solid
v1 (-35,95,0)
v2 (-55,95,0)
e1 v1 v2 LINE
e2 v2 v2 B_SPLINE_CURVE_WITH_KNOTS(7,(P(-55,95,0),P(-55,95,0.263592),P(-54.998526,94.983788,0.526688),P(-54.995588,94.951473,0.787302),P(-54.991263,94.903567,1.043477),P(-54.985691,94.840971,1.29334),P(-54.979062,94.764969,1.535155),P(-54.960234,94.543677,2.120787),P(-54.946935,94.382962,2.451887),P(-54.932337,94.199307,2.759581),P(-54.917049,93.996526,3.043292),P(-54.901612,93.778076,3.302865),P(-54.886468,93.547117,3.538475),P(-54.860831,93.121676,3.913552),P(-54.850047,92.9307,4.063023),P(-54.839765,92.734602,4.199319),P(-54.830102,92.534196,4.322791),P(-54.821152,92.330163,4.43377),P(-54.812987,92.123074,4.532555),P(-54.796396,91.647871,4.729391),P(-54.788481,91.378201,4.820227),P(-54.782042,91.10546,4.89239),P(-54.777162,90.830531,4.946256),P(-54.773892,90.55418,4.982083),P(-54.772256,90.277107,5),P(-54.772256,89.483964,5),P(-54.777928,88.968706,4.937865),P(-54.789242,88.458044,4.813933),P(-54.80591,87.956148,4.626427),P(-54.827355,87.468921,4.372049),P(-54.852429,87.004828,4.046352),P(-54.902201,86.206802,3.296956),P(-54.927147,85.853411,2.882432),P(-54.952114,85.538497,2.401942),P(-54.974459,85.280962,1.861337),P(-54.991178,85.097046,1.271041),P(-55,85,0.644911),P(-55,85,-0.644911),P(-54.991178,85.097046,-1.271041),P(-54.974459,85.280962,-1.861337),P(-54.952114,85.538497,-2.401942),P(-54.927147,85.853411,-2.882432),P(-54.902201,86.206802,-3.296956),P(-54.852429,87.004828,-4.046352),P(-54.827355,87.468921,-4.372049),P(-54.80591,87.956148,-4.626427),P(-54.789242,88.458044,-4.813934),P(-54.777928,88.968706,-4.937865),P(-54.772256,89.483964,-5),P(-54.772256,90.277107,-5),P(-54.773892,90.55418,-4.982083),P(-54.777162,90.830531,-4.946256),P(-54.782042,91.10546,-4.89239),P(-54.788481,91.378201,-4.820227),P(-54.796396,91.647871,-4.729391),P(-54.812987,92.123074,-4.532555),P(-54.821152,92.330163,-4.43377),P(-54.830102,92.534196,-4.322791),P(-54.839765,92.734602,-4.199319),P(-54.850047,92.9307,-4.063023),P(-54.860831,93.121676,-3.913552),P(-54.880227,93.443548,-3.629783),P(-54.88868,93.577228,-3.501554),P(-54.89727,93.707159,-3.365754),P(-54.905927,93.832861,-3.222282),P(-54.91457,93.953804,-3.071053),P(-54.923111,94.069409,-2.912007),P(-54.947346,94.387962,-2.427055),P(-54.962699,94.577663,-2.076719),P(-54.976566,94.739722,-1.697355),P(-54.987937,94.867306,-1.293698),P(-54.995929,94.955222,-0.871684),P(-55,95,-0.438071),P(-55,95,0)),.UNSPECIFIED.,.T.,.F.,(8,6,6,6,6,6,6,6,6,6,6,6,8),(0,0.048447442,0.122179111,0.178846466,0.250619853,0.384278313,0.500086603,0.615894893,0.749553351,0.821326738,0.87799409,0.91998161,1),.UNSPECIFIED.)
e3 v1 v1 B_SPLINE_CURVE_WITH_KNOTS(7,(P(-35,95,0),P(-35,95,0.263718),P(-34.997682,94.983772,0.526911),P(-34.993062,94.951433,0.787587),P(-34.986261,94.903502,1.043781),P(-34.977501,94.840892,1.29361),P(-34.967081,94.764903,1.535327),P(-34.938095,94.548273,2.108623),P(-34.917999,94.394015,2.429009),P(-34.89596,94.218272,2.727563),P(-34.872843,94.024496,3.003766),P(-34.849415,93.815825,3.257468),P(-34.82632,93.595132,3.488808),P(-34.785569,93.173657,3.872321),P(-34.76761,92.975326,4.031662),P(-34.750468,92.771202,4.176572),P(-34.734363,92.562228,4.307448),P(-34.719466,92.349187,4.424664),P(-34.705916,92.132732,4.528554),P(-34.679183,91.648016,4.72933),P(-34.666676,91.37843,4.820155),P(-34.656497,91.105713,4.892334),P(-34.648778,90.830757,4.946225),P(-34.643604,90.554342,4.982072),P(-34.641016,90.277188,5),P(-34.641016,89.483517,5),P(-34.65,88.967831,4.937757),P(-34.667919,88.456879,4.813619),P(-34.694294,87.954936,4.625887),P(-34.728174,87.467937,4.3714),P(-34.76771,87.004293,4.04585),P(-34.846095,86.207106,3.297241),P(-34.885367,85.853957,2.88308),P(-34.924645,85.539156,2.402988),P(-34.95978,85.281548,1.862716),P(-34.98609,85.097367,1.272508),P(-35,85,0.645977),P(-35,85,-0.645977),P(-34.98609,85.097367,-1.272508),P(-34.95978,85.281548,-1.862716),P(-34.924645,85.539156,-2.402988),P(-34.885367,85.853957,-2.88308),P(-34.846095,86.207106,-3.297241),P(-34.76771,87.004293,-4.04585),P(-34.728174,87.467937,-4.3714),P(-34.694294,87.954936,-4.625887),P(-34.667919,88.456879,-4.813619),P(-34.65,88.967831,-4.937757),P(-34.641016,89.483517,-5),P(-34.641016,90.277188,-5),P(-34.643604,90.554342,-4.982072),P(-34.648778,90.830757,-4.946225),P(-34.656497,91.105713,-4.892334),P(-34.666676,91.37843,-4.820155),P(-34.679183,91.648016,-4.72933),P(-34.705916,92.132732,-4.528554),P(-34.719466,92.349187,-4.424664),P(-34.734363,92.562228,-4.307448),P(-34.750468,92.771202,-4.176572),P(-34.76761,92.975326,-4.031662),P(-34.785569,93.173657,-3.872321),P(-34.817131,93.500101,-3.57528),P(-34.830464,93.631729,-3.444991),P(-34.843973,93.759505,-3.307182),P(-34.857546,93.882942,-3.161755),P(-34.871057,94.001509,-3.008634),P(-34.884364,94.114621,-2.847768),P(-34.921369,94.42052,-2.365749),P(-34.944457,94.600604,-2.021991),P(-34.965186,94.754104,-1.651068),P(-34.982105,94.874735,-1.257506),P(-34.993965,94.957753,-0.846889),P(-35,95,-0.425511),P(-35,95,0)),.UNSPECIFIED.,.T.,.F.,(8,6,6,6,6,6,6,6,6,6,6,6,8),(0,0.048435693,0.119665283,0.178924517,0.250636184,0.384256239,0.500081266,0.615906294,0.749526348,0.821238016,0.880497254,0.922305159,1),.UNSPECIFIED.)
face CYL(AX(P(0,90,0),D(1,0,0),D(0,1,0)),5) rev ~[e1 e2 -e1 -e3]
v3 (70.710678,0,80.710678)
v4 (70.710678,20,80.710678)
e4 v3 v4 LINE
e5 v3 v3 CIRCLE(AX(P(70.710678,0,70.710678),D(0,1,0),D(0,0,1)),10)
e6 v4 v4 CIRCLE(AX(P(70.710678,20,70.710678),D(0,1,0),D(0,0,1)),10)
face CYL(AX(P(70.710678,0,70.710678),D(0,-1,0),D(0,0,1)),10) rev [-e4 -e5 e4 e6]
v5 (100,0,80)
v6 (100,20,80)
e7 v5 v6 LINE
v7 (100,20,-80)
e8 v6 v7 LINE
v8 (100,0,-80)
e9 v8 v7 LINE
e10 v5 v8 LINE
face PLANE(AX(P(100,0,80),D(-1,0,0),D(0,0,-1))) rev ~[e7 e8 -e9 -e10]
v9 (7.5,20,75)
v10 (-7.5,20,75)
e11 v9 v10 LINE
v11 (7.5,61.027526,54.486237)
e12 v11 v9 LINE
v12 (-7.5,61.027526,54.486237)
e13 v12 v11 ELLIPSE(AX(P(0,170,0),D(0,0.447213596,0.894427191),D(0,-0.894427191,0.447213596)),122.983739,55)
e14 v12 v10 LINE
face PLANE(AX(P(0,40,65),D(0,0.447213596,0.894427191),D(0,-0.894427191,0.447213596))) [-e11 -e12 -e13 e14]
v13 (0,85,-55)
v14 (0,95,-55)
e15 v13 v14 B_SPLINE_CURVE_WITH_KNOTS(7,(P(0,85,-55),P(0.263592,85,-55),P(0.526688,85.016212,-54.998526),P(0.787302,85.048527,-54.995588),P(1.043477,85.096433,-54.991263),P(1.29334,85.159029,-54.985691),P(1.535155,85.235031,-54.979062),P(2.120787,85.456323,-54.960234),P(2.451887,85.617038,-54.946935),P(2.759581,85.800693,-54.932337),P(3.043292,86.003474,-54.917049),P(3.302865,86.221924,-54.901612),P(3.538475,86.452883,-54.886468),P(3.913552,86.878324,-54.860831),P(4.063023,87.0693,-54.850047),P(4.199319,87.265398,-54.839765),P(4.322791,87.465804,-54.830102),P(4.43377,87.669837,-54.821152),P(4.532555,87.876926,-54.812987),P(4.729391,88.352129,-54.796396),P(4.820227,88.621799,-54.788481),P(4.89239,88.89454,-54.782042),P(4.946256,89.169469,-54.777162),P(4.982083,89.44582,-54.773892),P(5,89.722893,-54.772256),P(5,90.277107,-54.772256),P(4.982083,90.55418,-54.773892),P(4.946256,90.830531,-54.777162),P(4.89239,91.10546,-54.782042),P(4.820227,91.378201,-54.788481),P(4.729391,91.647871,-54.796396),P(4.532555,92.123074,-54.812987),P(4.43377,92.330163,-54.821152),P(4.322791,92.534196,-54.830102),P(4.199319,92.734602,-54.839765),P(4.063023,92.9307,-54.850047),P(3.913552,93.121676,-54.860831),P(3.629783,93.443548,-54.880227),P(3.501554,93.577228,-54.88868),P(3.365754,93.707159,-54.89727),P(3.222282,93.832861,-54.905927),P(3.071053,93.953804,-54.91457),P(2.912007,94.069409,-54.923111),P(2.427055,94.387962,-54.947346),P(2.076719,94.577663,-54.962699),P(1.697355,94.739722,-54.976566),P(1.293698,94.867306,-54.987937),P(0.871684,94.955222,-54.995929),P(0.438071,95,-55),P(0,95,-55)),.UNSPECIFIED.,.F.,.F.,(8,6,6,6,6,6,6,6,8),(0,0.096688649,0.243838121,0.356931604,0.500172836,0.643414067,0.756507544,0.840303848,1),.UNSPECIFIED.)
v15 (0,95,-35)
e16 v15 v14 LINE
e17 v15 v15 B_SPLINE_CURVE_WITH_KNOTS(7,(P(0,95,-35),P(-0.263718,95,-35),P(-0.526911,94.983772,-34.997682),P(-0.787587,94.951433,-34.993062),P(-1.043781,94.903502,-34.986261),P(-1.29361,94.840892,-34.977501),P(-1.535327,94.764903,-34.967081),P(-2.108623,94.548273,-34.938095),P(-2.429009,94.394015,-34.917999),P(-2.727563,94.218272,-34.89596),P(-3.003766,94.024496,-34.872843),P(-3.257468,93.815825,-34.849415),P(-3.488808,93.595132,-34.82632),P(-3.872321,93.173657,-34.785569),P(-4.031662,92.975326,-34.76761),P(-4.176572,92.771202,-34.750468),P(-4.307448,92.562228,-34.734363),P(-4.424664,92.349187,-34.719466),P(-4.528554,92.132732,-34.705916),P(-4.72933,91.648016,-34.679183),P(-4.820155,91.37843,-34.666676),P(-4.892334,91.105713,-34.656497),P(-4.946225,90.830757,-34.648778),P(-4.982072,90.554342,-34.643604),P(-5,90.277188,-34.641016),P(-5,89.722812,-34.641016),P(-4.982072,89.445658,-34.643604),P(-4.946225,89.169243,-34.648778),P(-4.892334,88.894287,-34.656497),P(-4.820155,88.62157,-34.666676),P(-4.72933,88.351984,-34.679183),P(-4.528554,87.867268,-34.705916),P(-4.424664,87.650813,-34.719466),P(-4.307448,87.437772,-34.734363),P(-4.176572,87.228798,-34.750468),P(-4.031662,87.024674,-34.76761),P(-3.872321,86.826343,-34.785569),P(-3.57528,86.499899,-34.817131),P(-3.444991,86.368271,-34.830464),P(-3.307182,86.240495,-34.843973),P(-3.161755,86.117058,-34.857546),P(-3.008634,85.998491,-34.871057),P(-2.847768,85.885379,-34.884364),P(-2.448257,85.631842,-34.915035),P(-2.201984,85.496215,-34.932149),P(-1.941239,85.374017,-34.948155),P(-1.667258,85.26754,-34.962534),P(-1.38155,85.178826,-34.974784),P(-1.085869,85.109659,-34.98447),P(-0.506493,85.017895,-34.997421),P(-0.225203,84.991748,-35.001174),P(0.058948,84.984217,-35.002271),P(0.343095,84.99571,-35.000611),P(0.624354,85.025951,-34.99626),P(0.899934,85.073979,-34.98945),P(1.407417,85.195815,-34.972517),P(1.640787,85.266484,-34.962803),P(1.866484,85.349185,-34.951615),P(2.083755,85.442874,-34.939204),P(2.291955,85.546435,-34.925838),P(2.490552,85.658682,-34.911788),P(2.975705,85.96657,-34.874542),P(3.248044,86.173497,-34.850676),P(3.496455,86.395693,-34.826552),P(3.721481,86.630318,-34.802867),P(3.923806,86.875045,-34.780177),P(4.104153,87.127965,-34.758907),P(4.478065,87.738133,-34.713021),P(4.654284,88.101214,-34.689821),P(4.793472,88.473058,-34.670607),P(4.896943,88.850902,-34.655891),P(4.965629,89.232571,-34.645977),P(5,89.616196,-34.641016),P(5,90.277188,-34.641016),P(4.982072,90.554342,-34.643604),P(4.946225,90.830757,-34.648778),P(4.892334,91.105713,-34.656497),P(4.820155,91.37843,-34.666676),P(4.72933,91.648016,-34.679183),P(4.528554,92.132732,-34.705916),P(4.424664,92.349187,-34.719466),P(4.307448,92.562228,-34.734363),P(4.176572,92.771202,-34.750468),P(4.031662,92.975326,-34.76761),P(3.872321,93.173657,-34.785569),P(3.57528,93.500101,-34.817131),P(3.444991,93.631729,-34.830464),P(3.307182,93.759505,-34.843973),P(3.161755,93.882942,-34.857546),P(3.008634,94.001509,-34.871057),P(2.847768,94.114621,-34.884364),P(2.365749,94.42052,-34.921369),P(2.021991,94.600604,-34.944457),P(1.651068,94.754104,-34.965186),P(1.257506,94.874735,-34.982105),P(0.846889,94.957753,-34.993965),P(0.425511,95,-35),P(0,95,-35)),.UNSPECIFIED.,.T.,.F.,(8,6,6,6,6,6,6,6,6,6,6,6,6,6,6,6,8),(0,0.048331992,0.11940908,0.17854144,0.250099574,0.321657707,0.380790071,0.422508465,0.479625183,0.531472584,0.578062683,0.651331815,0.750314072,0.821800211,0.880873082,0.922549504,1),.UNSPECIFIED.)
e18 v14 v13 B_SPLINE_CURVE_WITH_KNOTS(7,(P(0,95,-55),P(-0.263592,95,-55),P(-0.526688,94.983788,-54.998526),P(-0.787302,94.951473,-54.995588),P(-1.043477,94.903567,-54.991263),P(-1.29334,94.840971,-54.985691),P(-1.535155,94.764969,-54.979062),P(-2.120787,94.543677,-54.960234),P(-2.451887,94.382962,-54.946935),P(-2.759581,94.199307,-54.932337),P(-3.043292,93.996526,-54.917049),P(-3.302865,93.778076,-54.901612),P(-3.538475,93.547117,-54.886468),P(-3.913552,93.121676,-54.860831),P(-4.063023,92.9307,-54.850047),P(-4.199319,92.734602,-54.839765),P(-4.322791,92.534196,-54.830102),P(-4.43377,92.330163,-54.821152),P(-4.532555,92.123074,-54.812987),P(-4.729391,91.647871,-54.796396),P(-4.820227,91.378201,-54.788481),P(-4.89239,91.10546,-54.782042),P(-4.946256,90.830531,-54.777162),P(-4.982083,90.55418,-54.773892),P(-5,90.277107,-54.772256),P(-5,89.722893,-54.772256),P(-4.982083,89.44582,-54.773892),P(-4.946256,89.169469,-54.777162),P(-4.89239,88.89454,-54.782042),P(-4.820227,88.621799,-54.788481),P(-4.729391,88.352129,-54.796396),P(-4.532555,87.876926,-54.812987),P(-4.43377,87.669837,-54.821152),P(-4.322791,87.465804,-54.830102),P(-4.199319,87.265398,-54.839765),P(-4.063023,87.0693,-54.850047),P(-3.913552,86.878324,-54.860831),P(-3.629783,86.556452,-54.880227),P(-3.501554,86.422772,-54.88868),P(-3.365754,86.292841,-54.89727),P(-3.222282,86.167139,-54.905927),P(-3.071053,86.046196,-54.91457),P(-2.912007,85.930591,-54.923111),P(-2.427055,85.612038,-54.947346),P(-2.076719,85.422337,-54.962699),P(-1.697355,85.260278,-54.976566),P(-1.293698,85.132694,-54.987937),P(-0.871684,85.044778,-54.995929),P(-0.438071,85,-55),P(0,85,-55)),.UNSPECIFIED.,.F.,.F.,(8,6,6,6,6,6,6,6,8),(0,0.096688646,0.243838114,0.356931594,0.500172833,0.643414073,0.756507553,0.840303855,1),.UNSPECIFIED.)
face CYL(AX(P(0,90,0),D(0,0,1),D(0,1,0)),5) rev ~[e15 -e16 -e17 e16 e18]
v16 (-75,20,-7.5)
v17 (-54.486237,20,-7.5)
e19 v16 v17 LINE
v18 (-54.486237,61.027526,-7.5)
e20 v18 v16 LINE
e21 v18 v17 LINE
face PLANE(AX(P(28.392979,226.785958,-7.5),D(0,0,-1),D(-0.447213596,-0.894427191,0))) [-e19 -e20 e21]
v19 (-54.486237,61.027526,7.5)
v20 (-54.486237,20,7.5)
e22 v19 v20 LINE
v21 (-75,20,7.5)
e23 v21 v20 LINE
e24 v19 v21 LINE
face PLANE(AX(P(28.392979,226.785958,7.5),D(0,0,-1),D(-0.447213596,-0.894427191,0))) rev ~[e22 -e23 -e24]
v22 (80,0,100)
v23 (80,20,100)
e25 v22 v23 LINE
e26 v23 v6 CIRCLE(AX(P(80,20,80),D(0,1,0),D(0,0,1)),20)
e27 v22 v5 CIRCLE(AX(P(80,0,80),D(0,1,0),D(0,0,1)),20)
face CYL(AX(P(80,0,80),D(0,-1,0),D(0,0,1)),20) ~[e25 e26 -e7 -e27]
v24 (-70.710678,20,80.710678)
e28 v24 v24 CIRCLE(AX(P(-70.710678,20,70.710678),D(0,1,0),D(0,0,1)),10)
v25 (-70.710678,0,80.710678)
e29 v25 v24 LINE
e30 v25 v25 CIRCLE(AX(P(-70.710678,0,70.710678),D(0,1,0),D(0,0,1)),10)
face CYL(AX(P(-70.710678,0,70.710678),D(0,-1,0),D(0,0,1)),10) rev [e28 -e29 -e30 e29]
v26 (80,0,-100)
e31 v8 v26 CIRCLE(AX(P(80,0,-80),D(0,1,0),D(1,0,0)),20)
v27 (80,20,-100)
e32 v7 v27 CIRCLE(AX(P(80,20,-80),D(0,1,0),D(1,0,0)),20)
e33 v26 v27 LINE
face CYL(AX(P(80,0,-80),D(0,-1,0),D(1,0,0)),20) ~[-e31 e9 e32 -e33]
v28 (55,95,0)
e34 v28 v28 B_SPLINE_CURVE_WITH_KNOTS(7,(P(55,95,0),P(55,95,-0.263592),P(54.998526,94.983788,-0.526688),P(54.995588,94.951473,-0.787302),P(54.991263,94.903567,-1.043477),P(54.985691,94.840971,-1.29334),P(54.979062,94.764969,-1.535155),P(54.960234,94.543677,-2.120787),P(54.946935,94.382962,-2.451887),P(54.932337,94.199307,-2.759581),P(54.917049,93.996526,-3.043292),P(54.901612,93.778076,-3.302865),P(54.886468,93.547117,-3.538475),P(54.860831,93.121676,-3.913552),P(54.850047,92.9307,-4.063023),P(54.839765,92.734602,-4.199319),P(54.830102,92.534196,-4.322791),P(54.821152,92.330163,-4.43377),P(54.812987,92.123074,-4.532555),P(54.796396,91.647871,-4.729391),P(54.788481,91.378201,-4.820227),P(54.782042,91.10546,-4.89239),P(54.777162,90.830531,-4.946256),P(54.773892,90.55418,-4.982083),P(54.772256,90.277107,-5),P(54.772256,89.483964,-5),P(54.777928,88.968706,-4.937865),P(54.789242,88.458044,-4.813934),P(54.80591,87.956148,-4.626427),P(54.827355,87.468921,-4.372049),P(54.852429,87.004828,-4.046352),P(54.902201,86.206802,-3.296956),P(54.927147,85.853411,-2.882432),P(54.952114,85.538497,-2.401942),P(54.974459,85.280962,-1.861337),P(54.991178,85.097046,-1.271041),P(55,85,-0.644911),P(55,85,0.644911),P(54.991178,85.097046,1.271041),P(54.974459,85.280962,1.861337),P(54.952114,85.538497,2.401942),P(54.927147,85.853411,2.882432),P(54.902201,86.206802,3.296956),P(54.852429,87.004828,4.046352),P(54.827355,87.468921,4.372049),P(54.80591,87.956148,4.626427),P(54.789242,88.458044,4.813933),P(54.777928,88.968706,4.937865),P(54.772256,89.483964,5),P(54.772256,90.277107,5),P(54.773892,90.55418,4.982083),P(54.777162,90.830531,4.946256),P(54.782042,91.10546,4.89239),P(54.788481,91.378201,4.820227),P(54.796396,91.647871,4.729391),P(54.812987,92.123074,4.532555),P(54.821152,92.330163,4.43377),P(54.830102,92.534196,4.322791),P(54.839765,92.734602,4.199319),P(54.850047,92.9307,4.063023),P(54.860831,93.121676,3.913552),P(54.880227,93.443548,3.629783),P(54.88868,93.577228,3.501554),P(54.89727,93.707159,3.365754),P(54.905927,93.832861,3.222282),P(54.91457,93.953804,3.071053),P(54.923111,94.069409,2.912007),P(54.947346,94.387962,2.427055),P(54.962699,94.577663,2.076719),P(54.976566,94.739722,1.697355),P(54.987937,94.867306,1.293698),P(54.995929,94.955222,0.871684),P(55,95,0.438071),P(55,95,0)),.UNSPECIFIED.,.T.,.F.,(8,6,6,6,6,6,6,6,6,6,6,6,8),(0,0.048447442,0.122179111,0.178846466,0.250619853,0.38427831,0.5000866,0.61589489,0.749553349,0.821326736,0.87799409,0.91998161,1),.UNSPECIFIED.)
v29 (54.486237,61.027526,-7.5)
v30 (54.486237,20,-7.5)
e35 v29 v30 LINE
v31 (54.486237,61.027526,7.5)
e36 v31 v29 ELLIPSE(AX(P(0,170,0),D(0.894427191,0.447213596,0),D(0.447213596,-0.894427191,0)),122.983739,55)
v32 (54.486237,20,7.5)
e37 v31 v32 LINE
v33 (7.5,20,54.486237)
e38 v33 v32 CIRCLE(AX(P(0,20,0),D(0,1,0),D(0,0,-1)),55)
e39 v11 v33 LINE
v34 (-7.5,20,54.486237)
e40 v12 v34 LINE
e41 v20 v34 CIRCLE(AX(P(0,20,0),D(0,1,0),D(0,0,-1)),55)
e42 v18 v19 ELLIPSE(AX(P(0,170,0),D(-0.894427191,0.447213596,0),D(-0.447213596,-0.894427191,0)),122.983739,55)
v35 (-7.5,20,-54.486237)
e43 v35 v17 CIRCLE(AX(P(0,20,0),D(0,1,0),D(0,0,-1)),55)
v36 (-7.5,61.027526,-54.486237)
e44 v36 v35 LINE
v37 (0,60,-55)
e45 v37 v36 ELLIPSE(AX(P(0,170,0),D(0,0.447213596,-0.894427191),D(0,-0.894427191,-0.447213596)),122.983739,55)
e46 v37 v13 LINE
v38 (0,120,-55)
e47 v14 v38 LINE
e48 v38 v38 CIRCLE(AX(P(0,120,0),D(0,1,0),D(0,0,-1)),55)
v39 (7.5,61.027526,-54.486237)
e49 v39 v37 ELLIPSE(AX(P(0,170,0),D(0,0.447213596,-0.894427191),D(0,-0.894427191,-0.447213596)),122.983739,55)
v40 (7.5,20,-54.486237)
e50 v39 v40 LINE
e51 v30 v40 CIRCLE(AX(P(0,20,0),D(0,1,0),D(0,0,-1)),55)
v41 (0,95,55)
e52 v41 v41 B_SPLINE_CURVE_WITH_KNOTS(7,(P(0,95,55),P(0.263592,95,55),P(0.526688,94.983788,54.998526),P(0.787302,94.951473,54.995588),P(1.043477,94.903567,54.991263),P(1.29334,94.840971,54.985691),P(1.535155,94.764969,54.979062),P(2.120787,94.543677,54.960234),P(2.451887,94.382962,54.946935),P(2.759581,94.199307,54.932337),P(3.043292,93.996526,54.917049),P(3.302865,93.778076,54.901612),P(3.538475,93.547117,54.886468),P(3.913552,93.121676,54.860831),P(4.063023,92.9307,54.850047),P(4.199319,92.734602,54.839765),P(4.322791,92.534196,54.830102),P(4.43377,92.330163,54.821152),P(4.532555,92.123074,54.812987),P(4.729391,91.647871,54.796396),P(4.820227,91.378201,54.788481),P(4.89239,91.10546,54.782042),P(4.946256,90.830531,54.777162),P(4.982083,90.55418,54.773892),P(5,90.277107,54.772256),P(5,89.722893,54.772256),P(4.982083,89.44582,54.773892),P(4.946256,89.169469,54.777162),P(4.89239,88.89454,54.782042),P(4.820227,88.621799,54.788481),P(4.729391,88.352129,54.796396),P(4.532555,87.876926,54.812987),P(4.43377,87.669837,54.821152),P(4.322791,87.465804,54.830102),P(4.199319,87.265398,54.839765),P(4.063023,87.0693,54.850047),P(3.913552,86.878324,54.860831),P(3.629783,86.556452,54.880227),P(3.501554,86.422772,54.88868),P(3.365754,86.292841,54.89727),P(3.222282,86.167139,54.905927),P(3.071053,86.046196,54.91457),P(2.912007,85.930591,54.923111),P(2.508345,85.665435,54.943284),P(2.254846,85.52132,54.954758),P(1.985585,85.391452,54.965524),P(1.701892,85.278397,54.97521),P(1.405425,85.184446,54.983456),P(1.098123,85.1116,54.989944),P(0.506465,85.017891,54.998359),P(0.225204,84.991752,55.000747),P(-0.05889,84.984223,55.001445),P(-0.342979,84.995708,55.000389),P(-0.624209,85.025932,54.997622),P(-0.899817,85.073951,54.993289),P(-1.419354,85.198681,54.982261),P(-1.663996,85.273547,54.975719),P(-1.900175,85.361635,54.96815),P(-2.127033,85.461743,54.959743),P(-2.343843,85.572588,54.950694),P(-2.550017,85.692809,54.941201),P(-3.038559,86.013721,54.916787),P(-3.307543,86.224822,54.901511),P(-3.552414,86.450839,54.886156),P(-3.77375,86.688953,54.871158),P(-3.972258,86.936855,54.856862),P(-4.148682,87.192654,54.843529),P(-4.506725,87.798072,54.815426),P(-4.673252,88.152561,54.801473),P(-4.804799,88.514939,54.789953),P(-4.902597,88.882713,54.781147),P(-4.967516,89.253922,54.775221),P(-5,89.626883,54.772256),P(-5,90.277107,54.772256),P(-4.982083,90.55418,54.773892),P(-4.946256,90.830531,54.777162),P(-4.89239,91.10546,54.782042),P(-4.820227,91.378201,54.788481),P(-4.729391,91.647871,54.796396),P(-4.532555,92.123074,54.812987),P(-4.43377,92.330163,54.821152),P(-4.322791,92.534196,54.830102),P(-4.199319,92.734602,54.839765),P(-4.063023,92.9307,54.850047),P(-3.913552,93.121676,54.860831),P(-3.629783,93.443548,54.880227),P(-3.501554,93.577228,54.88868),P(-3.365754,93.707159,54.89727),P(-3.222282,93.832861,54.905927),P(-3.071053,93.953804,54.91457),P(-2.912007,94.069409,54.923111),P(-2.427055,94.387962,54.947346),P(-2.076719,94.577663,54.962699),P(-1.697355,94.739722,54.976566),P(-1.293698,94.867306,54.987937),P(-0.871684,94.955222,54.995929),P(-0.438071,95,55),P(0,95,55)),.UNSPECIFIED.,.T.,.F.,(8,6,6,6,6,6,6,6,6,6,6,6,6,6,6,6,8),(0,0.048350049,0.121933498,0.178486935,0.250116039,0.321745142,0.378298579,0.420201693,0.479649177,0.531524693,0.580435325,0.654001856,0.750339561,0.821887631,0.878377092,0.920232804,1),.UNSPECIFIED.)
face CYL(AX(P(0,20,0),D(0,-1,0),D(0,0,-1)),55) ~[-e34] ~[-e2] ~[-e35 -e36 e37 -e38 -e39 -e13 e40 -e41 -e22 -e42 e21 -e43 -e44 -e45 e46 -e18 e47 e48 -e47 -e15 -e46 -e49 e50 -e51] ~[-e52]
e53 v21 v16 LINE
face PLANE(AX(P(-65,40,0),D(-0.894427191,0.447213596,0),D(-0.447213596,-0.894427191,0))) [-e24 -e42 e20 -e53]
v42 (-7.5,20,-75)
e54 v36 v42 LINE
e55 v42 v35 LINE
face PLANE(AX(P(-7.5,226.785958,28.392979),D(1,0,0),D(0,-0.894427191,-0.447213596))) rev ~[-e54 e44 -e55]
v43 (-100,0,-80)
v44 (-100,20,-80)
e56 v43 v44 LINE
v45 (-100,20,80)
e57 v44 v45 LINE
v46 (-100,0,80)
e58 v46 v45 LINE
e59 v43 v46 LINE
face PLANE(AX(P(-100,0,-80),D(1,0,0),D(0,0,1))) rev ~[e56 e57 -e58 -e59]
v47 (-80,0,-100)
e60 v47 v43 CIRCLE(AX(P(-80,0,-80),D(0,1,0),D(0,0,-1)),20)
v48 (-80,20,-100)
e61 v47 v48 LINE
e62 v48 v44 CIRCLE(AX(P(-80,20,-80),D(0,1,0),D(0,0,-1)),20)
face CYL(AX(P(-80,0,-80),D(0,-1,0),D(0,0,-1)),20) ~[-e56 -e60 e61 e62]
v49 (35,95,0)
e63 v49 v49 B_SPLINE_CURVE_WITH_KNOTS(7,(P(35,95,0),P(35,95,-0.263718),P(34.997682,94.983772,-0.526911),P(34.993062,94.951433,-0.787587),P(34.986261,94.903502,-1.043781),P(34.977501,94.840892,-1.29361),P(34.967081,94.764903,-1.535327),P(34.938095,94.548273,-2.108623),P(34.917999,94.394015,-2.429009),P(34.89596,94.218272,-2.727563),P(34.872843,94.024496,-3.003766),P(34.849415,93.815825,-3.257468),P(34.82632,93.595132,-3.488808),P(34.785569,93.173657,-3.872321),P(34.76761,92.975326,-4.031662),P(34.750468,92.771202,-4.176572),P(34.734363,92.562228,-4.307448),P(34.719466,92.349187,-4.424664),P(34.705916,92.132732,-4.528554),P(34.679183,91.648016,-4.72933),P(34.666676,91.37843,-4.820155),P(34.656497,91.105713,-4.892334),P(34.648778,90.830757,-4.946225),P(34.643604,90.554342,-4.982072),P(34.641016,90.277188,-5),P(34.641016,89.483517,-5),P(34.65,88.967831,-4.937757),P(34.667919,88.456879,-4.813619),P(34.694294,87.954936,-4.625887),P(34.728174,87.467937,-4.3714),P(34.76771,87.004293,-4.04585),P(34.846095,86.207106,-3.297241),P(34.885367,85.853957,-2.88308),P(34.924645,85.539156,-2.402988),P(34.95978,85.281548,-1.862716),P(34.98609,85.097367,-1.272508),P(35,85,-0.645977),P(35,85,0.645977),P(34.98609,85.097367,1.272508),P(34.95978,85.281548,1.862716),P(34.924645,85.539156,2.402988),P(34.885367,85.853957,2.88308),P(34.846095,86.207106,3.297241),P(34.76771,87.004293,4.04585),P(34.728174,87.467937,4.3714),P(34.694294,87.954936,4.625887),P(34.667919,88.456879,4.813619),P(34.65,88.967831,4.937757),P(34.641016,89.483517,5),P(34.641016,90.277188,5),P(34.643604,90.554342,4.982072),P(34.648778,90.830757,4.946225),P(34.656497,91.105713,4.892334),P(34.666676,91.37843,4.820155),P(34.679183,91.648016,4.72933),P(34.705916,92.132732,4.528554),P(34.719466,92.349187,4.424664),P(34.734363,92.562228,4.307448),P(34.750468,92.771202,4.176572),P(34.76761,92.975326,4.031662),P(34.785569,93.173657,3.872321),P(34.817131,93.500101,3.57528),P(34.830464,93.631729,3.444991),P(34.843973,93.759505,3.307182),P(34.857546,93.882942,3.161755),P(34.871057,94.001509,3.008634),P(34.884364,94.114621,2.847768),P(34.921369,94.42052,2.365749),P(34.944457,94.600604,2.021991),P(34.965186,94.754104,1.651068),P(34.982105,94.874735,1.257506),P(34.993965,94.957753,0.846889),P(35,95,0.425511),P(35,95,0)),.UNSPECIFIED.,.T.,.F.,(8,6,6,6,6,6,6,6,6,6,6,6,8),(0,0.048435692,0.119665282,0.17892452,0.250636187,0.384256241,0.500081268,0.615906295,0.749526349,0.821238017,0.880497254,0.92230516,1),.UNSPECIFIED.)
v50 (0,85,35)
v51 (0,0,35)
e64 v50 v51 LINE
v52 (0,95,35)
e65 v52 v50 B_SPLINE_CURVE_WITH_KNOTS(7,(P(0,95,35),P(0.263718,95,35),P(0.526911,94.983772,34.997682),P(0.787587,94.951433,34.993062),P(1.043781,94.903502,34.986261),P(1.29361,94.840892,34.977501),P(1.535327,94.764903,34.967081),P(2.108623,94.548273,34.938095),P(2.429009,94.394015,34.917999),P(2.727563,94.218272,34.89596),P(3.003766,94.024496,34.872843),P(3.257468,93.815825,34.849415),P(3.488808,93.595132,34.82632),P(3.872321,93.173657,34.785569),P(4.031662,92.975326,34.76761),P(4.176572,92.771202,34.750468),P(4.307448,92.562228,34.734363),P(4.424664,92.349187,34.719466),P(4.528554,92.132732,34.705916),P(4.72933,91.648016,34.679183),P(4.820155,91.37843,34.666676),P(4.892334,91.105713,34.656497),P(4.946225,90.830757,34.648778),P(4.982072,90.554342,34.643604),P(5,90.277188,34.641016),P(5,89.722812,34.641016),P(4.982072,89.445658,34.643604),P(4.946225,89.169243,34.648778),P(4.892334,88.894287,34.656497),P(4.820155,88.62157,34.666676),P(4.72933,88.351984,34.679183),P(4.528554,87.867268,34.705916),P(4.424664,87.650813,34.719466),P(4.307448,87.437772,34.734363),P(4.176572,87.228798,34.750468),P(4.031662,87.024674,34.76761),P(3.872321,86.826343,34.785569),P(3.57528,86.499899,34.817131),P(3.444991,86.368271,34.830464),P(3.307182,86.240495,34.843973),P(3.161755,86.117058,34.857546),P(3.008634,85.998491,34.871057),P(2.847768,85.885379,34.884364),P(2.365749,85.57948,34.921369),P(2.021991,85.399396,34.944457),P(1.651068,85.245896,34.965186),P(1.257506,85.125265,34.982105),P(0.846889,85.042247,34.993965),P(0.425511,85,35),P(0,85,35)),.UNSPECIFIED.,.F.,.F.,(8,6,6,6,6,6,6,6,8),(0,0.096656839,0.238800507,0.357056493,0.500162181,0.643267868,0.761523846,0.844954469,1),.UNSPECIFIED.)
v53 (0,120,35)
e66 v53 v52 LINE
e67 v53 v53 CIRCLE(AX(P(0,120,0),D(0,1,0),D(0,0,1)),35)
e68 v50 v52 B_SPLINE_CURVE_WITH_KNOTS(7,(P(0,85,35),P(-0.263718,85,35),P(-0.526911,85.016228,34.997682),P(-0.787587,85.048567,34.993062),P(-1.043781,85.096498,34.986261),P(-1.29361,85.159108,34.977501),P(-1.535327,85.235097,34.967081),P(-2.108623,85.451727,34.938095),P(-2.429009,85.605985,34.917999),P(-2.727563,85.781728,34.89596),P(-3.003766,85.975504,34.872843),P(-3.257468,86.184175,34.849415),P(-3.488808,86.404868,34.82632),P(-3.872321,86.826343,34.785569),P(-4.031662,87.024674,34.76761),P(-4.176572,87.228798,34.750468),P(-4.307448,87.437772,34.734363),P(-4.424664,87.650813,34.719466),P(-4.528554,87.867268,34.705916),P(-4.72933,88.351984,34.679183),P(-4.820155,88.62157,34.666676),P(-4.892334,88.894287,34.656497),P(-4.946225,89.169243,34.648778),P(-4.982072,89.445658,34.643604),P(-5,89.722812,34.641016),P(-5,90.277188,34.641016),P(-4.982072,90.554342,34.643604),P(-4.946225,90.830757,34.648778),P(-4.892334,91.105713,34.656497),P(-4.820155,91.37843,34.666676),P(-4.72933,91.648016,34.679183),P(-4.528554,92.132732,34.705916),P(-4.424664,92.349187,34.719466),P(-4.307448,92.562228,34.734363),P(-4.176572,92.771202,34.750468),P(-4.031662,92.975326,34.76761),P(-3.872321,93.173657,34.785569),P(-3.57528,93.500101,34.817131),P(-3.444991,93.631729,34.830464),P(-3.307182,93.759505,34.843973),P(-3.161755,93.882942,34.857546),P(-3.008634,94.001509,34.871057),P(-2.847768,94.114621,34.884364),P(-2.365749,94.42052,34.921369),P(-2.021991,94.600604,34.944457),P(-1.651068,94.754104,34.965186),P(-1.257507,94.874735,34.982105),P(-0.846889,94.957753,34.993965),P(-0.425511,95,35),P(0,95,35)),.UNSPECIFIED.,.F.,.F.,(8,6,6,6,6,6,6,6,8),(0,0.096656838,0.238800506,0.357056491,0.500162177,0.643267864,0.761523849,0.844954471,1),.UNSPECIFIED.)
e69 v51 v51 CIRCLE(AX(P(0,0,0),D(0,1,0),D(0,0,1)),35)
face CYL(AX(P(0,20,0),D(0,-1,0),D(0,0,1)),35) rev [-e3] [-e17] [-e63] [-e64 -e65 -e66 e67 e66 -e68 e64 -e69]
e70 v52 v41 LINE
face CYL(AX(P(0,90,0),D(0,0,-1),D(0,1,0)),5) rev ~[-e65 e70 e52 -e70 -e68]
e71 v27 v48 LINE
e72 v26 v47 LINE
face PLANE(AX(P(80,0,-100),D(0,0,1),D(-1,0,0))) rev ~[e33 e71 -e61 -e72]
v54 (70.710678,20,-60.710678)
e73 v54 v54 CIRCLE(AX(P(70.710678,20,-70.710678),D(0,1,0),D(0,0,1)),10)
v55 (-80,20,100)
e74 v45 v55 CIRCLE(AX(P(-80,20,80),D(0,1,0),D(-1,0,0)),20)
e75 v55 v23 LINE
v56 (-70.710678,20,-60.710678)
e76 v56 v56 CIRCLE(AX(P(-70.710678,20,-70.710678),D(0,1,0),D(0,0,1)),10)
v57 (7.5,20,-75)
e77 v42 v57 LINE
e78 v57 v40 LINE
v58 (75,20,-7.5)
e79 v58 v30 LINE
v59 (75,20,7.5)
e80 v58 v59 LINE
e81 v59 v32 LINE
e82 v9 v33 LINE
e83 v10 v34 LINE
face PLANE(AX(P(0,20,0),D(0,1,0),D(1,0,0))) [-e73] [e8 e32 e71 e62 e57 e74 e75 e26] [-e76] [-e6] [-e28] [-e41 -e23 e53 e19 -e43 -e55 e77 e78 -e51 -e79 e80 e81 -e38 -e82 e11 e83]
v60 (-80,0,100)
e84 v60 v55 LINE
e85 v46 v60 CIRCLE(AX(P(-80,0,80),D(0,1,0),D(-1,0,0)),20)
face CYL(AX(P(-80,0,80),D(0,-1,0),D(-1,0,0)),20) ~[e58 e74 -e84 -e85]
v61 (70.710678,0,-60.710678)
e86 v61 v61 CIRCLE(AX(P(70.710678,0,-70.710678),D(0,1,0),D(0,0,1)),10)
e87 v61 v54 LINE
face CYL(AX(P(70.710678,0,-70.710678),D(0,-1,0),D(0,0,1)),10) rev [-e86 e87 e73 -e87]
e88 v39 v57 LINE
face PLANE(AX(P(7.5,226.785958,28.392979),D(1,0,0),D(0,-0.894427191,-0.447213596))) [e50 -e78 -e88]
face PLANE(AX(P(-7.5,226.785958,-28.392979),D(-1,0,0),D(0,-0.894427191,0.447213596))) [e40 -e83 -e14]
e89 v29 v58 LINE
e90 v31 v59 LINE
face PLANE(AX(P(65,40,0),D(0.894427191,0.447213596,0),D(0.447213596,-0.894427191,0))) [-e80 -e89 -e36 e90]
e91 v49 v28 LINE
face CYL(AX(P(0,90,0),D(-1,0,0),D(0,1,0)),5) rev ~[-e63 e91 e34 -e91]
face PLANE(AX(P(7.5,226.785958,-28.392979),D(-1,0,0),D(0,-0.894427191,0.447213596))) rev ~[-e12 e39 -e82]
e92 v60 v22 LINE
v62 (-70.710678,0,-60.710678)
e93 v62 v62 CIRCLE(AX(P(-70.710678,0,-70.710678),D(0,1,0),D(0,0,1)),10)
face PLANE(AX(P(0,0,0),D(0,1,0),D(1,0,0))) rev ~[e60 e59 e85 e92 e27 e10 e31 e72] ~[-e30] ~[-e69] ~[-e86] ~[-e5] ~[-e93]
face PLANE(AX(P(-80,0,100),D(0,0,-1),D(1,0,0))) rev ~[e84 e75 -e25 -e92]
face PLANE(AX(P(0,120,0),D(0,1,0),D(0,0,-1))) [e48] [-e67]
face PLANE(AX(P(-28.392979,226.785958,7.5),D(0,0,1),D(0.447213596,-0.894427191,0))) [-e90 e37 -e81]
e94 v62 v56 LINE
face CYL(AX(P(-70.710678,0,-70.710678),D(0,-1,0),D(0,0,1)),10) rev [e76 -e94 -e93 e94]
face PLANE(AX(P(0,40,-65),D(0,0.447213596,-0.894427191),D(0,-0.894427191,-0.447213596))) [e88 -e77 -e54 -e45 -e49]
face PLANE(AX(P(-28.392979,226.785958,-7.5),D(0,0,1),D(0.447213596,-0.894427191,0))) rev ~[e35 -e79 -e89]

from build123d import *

# Parameters (mm, degrees)
SKETCH2_R           = 10
SKETCH2_R_2         = 35
BOSS_EXTRUDE1_DEPTH = 20
SKETCH5_R           = 55
SKETCH5_R_2         = 35
BOSS_EXTRUDE2_DEPTH = 100
RIB1_REACH          = 187.472
SKETCH6_WALL_W      = 417.66609937
SKETCH6_WALL_H      = 15
CIRPATTERN1_COUNT   = 4
SKETCH7_R           = 5
CUT_EXTRUDE2_DEPTH  = 186.47236991
CIRPATTERN2_COUNT   = 4


with BuildPart() as part:
    # Sketch2 → Boss-Extrude1 (new body)
    with BuildSketch(Plane(origin=(0, 0, 0), x_dir=(1, 0, 0), z_dir=(0, 1, 0))):
        with BuildLine():
            Line((-80, -100), (80, -100))
            ThreePointArc((80, -100), (94.142135624, -94.142135624), (100, -80))
            Line((100, -80), (100, 80))
            ThreePointArc((100, 80), (94.142135624, 94.142135624), (80, 100))
            Line((80, 100), (-80, 100))
            ThreePointArc((-80, 100), (-94.142135624, 94.142135624), (-100, 80))
            Line((-100, 80), (-100, -80))
            ThreePointArc((-100, -80), (-94.142135624, -94.142135624), (-80, -100))
        make_face()
        with Locations(Location((-70.710678119, 70.710678119, 0), (0, 0, 270))):
            Circle(SKETCH2_R, mode=Mode.SUBTRACT)
        with Locations(Location((70.710678119, 70.710678119, 0), (0, 0, 270))):
            Circle(SKETCH2_R, mode=Mode.SUBTRACT)
        with Locations(Location((-70.710678119, -70.710678119, 0), (0, 0, 270))):
            Circle(SKETCH2_R, mode=Mode.SUBTRACT)
        with Locations(Location((70.710678119, -70.710678119, 0), (0, 0, 270))):
            Circle(SKETCH2_R, mode=Mode.SUBTRACT)
        with Locations(Location((0, 0, 0), (0, 0, 270))):
            Circle(SKETCH2_R_2, mode=Mode.SUBTRACT)
    extrude(amount=BOSS_EXTRUDE1_DEPTH)

    # Sketch5 → Boss-Extrude2 (add)
    with BuildSketch(Plane(origin=(0, 20, 0), x_dir=(1, 0, 0), z_dir=(0, 1, 0))):
        with Locations(Location((0, 0, 0), (0, 0, 90))):
            Circle(SKETCH5_R)
        with Locations(Location((0, 0, 0), (0, 0, 270))):
            Circle(SKETCH5_R_2, mode=Mode.SUBTRACT)
    extrude(amount=BOSS_EXTRUDE2_DEPTH)

    # Sketch6 wall → Rib1 (add, up to next)
    with BuildSketch(Plane(origin=(65, 40, 0), x_dir=(0.4472135955, -0.894427191, 0), z_dir=(0.894427191, 0.4472135955, 0)), mode=Mode.PRIVATE) as rib1_sk1:
        Rectangle(SKETCH6_WALL_W, SKETCH6_WALL_H)
    rib1_tool1 = extrude(rib1_sk1.sketch, amount=-RIB1_REACH, mode=Mode.PRIVATE) - part.part
    rib1 = rib1_tool1.solids().sort_by_distance((65, 40, 0))[0]
    add(rib1)

    # CirPattern1: Rib1 ×4 about axis
    cirpattern1_axis = Axis((0, 0, 0), (0, 1, 0))
    for i in range(1, CIRPATTERN1_COUNT):
        add(rib1.rotate(cirpattern1_axis, i * 360 / CIRPATTERN1_COUNT))

    # Sketch7 → Cut-Extrude2 (cut, through all)
    with BuildSketch(Plane.XY):
        with Locations(Location((0, 90, 0), (0, 0, 90))):
            Circle(SKETCH7_R)
    cut_extrude2 = extrude(amount=-CUT_EXTRUDE2_DEPTH, mode=Mode.SUBTRACT)

    # CirPattern2: Cut-Extrude2 ×4 about axis
    cirpattern2_axis = Axis((0, 0, 0), (0, -1, 0))
    for i in range(1, CIRPATTERN2_COUNT):
        add(cut_extrude2.rotate(cirpattern2_axis, i * 360 / CIRPATTERN2_COUNT), mode=Mode.SUBTRACT)


solid = part.part
